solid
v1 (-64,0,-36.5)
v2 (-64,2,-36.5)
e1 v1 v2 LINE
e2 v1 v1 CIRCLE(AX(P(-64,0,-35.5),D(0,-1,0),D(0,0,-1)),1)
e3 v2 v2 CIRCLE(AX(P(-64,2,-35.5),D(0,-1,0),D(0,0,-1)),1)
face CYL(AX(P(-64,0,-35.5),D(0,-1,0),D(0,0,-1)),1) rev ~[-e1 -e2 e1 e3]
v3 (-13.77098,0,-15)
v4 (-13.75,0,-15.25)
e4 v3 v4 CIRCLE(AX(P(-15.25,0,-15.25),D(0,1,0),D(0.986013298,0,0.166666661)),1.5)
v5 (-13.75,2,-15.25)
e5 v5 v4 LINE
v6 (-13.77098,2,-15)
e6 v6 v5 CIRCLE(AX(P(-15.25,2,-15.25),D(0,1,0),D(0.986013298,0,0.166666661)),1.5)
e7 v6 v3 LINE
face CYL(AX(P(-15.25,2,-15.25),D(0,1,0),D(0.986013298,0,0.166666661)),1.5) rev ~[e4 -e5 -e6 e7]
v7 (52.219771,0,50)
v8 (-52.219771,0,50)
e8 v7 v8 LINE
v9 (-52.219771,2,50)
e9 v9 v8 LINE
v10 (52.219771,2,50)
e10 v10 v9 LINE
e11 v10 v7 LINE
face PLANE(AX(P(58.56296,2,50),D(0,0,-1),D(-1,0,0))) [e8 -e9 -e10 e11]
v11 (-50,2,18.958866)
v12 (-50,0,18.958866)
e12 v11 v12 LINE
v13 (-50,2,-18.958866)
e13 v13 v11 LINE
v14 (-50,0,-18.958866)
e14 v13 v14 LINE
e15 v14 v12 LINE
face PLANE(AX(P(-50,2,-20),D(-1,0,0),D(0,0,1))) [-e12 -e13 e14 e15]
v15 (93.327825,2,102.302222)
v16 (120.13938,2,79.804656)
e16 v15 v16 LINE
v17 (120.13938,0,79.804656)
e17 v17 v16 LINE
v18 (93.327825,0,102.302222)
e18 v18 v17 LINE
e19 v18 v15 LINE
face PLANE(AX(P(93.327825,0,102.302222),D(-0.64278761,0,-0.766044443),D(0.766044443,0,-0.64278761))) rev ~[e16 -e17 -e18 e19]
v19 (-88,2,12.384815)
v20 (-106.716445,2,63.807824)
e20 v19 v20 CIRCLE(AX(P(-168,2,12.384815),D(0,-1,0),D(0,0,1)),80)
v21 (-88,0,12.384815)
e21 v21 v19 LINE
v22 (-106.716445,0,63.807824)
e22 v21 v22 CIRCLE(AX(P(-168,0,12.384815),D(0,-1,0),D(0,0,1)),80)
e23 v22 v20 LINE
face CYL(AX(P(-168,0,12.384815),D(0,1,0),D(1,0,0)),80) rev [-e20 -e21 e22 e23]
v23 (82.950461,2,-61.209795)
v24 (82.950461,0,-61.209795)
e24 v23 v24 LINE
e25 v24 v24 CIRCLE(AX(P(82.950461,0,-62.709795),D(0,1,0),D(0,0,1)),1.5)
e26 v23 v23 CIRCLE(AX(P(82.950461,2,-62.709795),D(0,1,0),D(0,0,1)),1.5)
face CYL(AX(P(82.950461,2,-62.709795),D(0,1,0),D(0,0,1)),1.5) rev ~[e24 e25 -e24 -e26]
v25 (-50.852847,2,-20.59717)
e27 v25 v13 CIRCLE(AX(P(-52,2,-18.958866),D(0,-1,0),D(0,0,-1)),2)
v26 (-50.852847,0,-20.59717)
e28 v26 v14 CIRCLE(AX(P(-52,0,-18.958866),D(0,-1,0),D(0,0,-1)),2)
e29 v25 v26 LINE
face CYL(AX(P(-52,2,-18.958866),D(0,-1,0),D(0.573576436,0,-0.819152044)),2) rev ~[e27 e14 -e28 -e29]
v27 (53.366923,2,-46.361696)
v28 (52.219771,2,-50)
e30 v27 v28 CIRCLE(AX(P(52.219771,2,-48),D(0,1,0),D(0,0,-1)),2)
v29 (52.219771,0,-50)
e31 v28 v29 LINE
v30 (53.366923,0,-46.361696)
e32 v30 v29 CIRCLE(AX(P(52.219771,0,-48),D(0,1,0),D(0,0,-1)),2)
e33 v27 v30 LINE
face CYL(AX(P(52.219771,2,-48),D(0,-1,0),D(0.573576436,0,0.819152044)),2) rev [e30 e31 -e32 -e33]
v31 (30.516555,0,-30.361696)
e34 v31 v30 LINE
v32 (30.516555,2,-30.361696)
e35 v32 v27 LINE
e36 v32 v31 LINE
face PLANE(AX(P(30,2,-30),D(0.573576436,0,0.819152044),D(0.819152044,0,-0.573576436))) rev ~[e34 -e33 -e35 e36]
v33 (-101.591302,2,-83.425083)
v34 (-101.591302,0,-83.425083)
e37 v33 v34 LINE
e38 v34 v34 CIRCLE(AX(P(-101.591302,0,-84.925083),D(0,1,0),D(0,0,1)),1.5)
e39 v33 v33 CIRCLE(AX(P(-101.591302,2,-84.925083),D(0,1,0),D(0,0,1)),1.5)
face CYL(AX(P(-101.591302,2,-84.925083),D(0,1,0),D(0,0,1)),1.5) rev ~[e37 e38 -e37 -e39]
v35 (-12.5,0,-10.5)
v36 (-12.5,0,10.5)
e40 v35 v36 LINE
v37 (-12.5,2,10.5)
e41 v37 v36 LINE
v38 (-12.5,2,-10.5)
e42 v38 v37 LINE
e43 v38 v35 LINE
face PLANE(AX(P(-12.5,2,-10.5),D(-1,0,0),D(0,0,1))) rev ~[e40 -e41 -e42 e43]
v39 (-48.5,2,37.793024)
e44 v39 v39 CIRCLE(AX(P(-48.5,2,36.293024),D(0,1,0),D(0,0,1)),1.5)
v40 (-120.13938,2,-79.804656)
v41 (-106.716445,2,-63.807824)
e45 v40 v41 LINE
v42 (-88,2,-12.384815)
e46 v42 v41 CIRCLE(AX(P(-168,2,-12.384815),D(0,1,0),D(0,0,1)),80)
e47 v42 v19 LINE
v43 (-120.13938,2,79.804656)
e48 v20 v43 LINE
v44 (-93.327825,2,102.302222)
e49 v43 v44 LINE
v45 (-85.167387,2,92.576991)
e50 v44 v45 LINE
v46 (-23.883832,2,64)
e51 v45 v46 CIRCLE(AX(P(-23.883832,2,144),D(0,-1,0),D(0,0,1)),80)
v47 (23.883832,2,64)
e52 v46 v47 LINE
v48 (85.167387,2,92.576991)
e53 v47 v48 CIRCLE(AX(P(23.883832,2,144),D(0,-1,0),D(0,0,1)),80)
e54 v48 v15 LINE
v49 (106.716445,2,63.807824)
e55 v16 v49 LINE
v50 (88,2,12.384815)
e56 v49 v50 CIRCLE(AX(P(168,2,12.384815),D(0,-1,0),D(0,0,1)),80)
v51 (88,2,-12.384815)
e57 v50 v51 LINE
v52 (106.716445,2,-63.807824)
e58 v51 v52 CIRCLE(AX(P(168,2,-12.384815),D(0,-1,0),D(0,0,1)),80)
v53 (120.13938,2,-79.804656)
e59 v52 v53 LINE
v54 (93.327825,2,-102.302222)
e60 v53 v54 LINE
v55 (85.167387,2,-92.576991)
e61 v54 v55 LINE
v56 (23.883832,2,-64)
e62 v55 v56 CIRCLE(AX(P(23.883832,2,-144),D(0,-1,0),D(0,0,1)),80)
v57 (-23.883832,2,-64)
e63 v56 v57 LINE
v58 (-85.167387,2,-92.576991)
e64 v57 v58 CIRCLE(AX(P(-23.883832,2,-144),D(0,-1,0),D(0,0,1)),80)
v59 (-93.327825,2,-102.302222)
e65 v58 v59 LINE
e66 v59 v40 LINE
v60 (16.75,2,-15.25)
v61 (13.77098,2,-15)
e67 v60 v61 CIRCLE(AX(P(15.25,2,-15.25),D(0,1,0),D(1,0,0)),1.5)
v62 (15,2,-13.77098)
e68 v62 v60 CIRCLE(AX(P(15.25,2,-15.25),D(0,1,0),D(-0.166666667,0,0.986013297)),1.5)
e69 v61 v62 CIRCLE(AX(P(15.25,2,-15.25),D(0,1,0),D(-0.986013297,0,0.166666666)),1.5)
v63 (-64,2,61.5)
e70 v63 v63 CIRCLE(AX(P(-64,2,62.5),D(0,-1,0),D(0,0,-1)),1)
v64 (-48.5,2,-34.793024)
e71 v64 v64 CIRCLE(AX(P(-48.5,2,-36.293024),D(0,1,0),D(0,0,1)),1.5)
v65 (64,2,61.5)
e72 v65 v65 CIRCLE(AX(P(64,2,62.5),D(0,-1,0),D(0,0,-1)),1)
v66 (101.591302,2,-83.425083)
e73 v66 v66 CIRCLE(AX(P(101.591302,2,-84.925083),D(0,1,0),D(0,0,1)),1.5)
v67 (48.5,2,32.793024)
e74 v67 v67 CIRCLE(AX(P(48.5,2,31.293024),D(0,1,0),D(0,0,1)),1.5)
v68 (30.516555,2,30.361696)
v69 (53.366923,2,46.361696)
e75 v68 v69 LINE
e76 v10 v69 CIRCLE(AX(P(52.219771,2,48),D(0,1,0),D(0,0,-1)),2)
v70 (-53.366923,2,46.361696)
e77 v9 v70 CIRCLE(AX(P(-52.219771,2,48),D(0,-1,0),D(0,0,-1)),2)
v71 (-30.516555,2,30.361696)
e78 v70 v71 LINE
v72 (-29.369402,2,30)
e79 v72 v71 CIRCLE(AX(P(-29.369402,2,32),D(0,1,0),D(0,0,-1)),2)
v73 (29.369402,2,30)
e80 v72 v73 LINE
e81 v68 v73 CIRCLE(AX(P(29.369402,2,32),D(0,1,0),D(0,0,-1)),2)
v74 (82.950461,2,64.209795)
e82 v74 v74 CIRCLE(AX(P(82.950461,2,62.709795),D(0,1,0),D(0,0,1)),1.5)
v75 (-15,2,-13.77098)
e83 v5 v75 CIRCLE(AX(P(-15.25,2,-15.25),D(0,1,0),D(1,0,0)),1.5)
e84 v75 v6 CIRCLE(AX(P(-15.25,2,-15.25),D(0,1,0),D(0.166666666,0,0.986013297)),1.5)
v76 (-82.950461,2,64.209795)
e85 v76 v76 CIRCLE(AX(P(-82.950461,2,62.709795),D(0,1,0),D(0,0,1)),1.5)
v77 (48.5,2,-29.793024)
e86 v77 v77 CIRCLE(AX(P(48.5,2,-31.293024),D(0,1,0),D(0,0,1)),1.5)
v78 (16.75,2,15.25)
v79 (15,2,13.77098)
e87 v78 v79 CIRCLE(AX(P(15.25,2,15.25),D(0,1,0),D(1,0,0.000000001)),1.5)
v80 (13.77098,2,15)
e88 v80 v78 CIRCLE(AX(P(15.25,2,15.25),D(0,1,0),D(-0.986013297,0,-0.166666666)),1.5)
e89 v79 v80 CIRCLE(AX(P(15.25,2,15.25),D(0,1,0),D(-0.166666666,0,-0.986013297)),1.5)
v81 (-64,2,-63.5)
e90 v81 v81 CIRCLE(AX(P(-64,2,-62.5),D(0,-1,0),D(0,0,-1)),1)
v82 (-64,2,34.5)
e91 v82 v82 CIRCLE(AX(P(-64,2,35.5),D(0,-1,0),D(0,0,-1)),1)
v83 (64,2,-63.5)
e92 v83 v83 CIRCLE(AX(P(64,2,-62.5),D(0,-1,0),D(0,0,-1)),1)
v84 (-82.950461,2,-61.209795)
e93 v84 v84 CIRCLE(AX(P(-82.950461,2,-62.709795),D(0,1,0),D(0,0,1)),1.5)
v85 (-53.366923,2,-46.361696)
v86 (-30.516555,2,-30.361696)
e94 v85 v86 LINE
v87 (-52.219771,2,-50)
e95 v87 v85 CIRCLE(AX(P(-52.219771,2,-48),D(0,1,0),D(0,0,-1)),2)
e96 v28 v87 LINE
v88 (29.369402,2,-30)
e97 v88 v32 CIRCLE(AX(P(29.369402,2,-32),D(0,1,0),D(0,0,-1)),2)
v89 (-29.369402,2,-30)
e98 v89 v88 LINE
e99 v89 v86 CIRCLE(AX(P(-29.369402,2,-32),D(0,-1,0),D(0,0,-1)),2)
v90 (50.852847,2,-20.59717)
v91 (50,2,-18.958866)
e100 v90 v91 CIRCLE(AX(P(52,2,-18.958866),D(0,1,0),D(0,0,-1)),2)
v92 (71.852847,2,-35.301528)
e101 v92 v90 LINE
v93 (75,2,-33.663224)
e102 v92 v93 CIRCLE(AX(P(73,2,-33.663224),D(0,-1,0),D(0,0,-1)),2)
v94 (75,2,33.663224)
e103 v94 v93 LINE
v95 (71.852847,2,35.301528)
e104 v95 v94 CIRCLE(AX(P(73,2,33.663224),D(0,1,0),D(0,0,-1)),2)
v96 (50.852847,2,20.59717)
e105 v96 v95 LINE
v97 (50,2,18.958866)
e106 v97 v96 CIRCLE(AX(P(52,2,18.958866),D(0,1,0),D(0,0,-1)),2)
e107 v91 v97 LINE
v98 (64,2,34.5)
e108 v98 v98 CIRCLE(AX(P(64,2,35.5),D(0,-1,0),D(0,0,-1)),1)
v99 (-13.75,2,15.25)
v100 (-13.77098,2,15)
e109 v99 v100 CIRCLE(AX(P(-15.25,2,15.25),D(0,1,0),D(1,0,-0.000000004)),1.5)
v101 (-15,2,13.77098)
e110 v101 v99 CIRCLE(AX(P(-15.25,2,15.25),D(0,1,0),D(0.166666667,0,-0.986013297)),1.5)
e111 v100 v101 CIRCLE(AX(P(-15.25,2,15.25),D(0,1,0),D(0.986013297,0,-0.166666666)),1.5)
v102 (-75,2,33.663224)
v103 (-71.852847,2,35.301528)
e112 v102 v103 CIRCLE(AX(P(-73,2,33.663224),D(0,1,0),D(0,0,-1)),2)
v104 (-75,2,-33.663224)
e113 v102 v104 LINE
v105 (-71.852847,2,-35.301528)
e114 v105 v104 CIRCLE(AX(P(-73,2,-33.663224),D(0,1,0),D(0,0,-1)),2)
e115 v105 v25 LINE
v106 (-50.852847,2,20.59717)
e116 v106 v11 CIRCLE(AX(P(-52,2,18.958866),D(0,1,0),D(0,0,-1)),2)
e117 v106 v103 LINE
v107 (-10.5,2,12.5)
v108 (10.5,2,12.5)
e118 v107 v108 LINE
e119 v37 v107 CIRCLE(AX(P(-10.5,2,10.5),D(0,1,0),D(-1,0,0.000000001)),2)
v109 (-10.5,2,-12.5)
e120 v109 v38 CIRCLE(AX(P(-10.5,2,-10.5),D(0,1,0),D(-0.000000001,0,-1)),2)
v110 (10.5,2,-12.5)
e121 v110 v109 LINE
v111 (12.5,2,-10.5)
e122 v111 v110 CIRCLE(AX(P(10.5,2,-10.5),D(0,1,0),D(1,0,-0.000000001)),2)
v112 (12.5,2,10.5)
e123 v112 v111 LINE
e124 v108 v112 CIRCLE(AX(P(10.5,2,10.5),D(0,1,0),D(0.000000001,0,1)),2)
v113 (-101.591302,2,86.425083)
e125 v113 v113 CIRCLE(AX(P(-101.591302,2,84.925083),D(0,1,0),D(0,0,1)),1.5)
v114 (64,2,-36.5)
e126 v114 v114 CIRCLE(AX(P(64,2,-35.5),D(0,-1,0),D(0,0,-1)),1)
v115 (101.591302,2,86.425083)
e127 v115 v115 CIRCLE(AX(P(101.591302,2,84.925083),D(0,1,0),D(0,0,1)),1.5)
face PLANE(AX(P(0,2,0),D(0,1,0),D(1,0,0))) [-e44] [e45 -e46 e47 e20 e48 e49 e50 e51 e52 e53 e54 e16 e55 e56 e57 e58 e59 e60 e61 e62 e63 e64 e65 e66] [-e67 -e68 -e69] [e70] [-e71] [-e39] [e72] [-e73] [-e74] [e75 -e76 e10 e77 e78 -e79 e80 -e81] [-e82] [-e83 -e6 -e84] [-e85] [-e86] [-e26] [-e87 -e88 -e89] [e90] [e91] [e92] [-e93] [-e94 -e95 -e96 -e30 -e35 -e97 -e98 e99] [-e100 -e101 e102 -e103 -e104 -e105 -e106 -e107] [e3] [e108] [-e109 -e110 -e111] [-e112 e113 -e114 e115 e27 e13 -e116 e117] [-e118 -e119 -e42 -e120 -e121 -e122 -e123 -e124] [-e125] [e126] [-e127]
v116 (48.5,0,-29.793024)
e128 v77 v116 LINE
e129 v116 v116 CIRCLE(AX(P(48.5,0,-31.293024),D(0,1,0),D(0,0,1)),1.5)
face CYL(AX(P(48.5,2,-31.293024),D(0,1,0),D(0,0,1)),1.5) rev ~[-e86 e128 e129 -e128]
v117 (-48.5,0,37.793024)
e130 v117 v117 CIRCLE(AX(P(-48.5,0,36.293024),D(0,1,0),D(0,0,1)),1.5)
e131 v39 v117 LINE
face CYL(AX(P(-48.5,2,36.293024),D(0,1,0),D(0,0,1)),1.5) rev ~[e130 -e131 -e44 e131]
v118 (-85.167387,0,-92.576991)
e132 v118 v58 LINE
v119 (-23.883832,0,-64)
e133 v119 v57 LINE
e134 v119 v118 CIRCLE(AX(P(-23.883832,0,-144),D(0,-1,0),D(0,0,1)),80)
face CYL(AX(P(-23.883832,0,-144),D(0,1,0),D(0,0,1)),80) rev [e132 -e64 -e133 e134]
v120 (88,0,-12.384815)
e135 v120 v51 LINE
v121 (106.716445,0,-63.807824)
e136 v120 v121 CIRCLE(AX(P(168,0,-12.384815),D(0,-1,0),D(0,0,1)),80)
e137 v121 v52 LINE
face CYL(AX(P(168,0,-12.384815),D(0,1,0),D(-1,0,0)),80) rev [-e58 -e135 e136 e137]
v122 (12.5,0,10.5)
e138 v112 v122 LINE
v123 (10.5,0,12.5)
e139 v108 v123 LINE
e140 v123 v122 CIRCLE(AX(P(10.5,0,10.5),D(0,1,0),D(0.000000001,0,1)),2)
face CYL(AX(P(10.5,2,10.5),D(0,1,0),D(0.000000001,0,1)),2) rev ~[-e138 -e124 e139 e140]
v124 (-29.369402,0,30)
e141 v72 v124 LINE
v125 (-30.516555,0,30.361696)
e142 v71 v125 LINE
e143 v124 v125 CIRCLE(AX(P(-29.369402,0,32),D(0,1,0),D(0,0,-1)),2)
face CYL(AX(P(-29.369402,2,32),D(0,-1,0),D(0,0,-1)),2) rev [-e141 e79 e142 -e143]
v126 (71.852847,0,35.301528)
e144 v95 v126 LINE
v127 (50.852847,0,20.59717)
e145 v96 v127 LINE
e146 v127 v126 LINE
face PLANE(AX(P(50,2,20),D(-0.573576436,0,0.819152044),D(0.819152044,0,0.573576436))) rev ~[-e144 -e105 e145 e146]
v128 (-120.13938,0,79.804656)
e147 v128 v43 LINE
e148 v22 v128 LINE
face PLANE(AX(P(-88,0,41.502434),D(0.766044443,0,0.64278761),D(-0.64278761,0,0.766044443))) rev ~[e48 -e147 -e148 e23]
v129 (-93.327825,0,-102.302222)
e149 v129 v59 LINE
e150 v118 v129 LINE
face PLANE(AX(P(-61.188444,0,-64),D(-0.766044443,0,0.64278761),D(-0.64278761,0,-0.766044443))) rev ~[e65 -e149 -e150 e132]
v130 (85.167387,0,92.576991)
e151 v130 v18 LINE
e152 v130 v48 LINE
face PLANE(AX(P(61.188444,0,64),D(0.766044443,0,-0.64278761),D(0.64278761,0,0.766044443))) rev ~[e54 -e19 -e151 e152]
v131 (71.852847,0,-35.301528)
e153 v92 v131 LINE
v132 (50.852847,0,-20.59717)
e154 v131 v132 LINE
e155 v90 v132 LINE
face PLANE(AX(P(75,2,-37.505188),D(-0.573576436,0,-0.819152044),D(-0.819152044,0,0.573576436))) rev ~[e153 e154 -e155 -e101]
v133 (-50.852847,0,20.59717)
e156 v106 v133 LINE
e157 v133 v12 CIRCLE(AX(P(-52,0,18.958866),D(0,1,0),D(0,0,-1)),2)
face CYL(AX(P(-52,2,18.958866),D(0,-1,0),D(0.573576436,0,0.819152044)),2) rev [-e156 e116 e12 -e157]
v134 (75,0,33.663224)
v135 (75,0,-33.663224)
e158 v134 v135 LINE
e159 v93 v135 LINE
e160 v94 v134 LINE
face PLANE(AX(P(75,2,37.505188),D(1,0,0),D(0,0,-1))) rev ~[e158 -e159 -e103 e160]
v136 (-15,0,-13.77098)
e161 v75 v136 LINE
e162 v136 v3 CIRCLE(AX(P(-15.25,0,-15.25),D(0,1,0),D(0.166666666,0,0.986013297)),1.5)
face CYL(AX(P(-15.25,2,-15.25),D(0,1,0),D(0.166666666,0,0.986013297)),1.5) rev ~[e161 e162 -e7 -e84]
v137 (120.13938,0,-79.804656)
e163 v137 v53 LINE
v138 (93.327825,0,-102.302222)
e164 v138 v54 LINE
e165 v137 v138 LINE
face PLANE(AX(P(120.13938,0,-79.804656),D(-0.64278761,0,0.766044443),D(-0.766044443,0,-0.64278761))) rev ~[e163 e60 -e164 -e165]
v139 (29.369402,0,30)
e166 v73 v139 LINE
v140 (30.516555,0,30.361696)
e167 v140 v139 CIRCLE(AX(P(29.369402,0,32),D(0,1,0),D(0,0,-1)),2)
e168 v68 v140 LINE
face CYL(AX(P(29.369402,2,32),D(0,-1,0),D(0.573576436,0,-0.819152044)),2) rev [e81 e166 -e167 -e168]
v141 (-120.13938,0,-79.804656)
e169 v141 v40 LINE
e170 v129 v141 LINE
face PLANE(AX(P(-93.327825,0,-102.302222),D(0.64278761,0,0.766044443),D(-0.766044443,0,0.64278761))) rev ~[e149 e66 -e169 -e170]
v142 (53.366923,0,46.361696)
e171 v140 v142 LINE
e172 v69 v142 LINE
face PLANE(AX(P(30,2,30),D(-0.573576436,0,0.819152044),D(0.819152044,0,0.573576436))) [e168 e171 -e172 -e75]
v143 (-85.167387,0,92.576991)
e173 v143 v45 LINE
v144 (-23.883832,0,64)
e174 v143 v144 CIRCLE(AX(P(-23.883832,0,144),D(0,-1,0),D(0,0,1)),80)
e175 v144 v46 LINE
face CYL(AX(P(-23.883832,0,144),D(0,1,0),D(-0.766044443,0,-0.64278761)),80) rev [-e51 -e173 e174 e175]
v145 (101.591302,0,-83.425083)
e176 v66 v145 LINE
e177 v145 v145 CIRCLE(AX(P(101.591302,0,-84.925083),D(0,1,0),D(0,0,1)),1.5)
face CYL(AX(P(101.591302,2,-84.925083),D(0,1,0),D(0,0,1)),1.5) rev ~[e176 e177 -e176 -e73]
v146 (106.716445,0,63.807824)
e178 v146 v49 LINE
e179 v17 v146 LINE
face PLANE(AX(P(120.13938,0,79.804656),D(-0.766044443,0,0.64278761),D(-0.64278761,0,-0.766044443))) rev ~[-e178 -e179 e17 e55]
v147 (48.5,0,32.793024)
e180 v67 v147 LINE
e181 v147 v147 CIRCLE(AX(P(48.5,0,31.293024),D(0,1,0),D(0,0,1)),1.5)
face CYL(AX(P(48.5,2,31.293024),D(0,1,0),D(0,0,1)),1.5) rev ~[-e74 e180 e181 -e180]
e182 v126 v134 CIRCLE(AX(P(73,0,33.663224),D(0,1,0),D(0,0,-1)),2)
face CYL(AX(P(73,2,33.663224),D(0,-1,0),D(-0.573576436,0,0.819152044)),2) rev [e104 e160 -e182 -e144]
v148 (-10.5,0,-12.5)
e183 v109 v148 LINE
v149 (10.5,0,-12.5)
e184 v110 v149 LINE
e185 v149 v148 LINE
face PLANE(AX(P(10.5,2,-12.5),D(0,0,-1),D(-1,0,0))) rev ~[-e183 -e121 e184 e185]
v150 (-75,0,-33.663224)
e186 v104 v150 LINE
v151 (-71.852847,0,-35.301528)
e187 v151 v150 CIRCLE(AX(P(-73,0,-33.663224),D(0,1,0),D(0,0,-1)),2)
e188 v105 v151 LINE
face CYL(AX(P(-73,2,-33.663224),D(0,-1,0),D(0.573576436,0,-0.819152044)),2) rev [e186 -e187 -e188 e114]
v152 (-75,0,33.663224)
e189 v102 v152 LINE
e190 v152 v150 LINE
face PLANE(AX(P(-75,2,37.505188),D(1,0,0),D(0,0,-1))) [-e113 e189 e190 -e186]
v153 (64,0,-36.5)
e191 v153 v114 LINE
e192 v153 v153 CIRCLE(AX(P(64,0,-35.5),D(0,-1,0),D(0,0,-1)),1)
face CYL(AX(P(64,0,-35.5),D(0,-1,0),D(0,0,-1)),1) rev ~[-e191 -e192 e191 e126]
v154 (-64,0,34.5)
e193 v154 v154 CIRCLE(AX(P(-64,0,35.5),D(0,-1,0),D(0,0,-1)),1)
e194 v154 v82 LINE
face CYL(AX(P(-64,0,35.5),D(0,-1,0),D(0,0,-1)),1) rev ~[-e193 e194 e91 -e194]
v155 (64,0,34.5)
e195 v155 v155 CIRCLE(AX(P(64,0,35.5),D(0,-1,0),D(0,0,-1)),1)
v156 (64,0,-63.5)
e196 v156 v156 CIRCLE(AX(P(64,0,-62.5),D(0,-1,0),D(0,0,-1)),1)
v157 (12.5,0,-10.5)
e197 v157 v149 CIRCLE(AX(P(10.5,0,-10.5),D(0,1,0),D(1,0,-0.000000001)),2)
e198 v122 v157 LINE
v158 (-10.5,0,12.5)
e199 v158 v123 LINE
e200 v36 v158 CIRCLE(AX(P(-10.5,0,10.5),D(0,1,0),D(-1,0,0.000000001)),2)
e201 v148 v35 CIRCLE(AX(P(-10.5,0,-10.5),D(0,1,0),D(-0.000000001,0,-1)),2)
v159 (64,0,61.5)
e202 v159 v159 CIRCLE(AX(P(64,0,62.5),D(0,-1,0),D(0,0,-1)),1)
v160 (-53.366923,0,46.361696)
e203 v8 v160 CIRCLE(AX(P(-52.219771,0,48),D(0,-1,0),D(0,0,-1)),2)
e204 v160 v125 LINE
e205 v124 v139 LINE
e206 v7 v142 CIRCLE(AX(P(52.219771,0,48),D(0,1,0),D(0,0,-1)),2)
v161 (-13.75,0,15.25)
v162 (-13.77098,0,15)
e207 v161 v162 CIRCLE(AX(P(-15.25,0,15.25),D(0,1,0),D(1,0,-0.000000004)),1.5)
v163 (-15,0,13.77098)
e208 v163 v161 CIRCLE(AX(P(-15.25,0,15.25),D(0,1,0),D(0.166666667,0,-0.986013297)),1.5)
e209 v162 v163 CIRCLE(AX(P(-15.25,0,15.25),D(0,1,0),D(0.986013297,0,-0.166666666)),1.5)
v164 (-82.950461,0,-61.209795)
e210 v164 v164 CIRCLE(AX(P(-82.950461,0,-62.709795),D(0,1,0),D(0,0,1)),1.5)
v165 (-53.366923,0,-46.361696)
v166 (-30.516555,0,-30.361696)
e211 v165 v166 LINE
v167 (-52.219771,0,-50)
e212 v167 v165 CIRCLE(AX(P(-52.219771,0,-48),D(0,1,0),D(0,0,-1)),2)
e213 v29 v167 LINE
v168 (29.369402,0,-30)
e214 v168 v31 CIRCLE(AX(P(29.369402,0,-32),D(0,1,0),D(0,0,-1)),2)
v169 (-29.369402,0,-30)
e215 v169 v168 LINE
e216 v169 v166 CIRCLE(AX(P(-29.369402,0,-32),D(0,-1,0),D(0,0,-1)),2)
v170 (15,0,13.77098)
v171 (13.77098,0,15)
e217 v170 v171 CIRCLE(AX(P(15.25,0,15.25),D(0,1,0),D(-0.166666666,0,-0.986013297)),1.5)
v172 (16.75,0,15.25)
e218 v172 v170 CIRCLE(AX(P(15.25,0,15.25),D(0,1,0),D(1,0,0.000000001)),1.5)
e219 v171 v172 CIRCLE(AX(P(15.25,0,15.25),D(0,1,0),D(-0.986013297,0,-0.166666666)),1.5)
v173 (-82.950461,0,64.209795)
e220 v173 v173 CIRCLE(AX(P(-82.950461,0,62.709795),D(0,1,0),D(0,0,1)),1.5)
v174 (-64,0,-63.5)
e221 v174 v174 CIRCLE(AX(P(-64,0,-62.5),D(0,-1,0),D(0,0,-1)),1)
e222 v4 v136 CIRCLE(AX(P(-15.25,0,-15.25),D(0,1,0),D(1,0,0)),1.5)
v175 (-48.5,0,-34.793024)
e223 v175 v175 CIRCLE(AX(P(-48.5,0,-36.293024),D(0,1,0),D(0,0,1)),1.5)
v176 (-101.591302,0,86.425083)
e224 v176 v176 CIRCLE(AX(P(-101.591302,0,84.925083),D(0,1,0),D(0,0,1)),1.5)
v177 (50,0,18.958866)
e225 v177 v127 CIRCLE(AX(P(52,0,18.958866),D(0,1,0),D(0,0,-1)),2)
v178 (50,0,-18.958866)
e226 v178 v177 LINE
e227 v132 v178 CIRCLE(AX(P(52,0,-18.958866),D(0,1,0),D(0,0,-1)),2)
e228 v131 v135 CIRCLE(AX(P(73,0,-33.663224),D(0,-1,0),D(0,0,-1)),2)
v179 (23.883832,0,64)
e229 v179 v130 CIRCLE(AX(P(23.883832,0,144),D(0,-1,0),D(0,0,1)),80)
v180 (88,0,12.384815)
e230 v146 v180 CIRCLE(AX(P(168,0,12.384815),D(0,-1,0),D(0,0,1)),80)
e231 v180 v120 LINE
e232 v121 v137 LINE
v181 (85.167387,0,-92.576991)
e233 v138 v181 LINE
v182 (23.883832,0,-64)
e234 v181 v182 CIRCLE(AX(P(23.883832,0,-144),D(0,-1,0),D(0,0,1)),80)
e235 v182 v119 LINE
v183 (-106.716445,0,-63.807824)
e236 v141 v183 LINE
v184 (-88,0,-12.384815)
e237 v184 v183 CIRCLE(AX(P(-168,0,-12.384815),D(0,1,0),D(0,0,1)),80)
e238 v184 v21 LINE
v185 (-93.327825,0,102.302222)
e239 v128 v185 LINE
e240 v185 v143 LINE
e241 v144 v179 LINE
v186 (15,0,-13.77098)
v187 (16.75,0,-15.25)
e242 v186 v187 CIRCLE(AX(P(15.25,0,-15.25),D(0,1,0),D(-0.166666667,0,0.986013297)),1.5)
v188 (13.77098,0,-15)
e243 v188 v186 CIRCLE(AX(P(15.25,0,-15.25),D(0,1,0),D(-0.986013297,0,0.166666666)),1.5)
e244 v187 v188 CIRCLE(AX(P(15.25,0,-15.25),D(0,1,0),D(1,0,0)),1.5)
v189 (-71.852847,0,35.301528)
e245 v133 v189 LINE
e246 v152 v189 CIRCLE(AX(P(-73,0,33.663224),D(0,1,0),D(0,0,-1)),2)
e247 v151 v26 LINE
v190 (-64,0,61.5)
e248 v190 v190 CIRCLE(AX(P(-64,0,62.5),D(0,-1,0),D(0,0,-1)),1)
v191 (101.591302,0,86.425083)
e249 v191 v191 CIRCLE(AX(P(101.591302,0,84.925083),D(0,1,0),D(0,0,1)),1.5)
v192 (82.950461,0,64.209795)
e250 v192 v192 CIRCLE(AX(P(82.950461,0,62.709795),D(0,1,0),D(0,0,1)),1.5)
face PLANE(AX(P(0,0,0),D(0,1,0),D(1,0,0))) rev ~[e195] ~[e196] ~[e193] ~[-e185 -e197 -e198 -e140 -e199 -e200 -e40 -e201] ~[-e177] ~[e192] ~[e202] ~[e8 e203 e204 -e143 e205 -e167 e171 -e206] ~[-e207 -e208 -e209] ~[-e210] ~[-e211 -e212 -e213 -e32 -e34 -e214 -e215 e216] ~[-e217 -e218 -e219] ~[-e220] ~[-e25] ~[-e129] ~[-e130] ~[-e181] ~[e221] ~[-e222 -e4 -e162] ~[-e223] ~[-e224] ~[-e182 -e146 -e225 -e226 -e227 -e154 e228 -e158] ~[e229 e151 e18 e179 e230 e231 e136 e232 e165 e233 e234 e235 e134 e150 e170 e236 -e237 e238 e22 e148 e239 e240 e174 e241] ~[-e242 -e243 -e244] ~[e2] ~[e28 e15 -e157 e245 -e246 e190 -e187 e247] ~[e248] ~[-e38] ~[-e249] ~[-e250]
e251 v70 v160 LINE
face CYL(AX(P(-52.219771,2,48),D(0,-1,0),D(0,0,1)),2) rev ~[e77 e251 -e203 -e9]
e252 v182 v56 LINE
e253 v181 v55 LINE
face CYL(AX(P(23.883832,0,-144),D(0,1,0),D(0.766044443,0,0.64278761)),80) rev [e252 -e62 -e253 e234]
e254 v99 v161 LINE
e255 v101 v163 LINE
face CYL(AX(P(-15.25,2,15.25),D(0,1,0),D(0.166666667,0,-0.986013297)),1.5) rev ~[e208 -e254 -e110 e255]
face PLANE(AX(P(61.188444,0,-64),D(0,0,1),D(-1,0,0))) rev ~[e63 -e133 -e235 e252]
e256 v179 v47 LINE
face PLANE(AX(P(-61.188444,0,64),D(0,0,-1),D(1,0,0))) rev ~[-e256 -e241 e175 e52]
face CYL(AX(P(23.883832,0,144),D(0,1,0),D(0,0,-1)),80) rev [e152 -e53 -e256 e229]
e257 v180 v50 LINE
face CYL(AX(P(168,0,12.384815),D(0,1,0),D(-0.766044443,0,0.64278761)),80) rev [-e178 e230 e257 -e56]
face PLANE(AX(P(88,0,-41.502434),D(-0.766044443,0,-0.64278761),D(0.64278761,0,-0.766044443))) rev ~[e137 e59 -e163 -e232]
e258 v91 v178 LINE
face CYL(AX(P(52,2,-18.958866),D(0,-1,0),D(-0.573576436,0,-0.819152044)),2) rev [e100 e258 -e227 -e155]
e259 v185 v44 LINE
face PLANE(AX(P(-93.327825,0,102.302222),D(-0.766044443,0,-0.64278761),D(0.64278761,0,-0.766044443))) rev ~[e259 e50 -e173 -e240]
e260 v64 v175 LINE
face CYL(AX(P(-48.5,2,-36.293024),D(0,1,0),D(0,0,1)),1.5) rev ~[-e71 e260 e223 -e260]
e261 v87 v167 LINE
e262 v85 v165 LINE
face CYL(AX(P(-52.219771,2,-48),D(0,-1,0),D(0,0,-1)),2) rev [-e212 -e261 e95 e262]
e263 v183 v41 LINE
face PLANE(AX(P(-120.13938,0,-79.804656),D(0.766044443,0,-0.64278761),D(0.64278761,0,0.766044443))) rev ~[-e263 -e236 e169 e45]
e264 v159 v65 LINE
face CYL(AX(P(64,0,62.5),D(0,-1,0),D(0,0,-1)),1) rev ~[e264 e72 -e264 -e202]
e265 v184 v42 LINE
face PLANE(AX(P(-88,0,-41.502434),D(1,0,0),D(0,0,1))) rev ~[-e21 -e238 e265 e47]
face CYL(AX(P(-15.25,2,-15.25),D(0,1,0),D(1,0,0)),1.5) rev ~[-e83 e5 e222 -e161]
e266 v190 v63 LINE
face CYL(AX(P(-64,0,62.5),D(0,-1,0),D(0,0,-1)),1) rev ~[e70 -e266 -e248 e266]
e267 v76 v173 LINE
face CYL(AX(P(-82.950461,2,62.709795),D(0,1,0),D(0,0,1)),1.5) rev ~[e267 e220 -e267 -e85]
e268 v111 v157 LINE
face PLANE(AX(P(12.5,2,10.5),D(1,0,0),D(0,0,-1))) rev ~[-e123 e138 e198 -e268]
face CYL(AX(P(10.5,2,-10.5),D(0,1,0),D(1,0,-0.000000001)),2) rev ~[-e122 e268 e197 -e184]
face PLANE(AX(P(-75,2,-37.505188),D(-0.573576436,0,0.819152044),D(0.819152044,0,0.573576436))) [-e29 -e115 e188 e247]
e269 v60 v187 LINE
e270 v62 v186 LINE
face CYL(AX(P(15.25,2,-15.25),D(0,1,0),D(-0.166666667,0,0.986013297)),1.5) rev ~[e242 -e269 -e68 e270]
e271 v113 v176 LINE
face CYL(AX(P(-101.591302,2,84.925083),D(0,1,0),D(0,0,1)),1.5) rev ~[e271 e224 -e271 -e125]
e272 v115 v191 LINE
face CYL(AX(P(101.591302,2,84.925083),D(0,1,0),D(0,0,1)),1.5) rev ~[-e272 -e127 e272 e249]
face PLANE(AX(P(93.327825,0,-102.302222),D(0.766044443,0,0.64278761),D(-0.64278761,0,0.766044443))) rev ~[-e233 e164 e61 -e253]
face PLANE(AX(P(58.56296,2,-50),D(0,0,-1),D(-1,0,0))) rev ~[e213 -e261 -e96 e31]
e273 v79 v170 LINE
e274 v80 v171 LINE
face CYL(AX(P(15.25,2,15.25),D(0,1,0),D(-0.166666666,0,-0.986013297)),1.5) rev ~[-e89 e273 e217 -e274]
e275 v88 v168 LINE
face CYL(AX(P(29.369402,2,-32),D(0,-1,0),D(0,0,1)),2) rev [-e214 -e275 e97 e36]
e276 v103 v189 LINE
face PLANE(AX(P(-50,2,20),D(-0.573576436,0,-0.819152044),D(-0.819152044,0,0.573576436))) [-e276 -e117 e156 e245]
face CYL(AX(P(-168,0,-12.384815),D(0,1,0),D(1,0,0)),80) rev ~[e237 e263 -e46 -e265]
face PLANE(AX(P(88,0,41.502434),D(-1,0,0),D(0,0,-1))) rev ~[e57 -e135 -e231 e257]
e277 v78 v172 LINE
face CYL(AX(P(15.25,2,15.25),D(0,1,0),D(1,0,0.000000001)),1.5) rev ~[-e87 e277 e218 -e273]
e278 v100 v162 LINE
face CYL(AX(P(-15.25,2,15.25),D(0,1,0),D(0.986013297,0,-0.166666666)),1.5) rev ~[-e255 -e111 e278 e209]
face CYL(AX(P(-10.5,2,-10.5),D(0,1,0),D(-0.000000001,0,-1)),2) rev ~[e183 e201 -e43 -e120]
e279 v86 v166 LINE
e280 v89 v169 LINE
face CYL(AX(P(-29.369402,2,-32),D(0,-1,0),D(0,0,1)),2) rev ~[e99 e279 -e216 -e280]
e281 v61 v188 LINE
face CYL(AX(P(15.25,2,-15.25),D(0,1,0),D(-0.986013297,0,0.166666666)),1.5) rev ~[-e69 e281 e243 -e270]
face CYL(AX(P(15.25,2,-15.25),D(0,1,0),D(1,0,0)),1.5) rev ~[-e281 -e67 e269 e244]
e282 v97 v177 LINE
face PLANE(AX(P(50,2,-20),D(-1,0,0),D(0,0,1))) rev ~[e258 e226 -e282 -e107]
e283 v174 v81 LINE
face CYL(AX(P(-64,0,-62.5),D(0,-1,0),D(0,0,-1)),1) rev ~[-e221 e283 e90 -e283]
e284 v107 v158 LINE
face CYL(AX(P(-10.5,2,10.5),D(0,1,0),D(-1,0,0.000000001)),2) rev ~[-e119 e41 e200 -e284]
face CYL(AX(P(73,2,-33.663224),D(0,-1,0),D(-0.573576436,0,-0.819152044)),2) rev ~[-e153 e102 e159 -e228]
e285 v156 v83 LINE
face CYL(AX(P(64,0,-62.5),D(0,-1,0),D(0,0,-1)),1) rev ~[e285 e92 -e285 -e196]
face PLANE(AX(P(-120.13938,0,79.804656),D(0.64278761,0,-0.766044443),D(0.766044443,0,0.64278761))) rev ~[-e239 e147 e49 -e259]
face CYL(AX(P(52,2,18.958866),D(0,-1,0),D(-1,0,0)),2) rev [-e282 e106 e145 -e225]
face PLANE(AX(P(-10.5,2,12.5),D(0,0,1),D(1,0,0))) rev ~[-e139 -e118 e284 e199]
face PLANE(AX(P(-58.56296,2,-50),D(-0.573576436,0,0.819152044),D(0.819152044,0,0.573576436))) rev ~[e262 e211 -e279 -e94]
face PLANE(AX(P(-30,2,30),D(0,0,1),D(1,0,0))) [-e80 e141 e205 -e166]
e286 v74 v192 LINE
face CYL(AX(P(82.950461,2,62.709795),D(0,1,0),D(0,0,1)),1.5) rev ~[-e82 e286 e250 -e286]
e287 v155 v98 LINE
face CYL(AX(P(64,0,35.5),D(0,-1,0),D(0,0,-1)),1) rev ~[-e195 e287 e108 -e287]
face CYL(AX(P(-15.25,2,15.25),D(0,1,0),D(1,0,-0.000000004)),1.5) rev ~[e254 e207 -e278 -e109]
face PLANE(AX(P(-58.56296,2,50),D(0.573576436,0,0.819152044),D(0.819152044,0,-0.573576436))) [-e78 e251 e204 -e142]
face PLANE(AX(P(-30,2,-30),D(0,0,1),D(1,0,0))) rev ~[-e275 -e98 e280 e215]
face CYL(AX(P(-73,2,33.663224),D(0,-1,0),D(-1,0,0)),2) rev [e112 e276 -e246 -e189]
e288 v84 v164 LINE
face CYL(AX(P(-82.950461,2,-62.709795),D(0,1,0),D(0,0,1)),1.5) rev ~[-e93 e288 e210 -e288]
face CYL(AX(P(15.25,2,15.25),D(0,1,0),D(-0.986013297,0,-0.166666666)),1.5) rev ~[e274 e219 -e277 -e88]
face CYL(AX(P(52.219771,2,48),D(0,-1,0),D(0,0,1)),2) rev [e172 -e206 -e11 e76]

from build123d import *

# Parameters (mm, degrees)
BOSS_EXTRUDE1_DEPTH = 2
FILLET1_R           = 80
SKETCH4_R           = 1.5
CUT_EXTRUDE1_DEPTH  = 10
CUT_EXTRUDE2_DEPTH  = 10
FILLET2_R           = 2
CUT_EXTRUDE3_DEPTH  = 10
CUT_EXTRUDE4_DEPTH  = 10
SKETCH8_R           = 1
CUT_EXTRUDE5_DEPTH  = 10
SKETCH9_R           = 1.5
CUT_EXTRUDE6_DEPTH  = 10


with BuildPart() as part:
    # Sketch1 → Boss-Extrude1 (new body)
    with BuildSketch(Plane(origin=(0, 0, 0), x_dir=(1, 0, 0), z_dir=(0, 1, 0))):
        Polygon((-88, 41.502433661), (-88, -41.502433661), (-120.139380484, -79.804655817), (-93.327824975, -102.302222156), (-61.188444491, -64), (61.188444491, -64), (93.327824975, -102.302222156), (120.139380484, -79.804655817), (88, -41.502433661), (88, 41.502433661), (120.139380484, 79.804655817), (93.327824975, 102.302222156), (61.188444491, 64), (-61.188444491, 64), (-93.327824975, 102.302222156), (-120.139380484, 79.804655817), align=None)
    extrude(amount=BOSS_EXTRUDE1_DEPTH)

    # Fillet1
    fillet1_edges = [part.edges().sort_by_distance(p)[0] for p in [
        (61.188444491, 1, -64),
        (88, 1, -41.502433661),
        (88, 1, 41.502433661),
        (61.188444491, 1, 64),
        (-61.188444491, 1, 64),
        (-88, 1, 41.502433661),
        (-88, 1, -41.502433661),
        (-61.188444491, 1, -64),
    ]]
    fillet(fillet1_edges, radius=FILLET1_R)

    # Sketch4 → Cut-Extrude1 (cut)
    with BuildSketch(Plane(origin=(0, 2, 0), x_dir=(1, 0, 0), z_dir=(0, 1, 0))):
        with Locations(Location((-101.591301852, -84.925083441, 0), (0, 0, 270))):
            Circle(SKETCH4_R)
        with Locations(Location((-82.950461171, -62.709794591, 0), (0, 0, 270))):
            Circle(SKETCH4_R)
        with Locations(Location((101.591301852, -84.925083441, 0), (0, 0, 270))):
            Circle(SKETCH4_R)
        with Locations(Location((82.950461171, -62.709794591, 0), (0, 0, 270))):
            Circle(SKETCH4_R)
        with Locations(Location((101.591301852, 84.925083441, 0), (0, 0, 270))):
            Circle(SKETCH4_R)
        with Locations(Location((82.950461171, 62.709794591, 0), (0, 0, 270))):
            Circle(SKETCH4_R)
        with Locations(Location((-101.591301852, 84.925083441, 0), (0, 0, 270))):
            Circle(SKETCH4_R)
        with Locations(Location((-82.950461171, 62.709794591, 0), (0, 0, 270))):
            Circle(SKETCH4_R)
    extrude(amount=-CUT_EXTRUDE1_DEPTH, mode=Mode.SUBTRACT)

    # Sketch5 → Cut-Extrude2 (cut)
    with BuildSketch(Plane(origin=(0, 2, 0), x_dir=(1, 0, 0), z_dir=(0, 1, 0))):
        Polygon((-30, 30), (30, 30), (58.562960135, 50), (-58.562960135, 50), align=None)
        Polygon((-58.562960135, -50), (-30, -30), (30, -30), (58.562960135, -50), align=None)
        Polygon((-50, 20), (-50, -20), (-75, -37.505188455), (-75, 37.505188455), align=None)
        Polygon((75, 37.505188455), (50, 20), (50, -20), (75, -37.505188455), align=None)
    extrude(amount=-CUT_EXTRUDE2_DEPTH, mode=Mode.SUBTRACT)

    # Fillet2
    fillet2_edges = [part.edges().sort_by_distance(p)[0] for p in [
        (50, 1, -20),
        (75, 1, -37.505188455),
        (75, 1, 37.505188455),
        (50, 1, 20),
        (-30, 1, 30),
        (30, 1, 30),
        (58.562960135, 1, 50),
        (-58.562960135, 1, 50),
        (-58.562960135, 1, -50),
        (58.562960135, 1, -50),
        (30, 1, -30),
        (-30, 1, -30),
        (-75, 1, -37.505188455),
        (-50, 1, -20),
        (-50, 1, 20),
        (-75, 1, 37.505188455),
    ]]
    fillet(fillet2_edges, radius=FILLET2_R)

    # Sketch5<3> → Cut-Extrude3 (cut)
    with BuildSketch(Plane(origin=(0, 2, 0), x_dir=(1, 0, 0), z_dir=(0, 1, 0))):
        with BuildLine():
            Line((-15, -13.770980054), (-15, -15))
            Line((-15, -15), (-13.770980054, -15))
            ThreePointArc((-13.770980054, -15), (-14.189339828, -14.189339828), (-15, -13.770980054))
        make_face()
        with BuildLine():
            Line((-13.770980054, -15), (-15, -15))
            Line((-15, -15), (-15, -13.770980054))
            ThreePointArc((-15, -13.770980054), (-16.395643924, -16.218245837), (-13.75, -15.25))
            ThreePointArc((-13.75, -15.25), (-13.755254216, -15.12456061), (-13.770980054, -15))
        make_face()
        with BuildLine():
            ThreePointArc((15, -13.770980054), (14.189339828, -14.189339828), (13.770980054, -15))
            Line((13.770980054, -15), (15, -15))
            Line((15, -15), (15, -13.770980054))
        make_face()
        with BuildLine():
            Line((15, -15), (13.770980054, -15))
            ThreePointArc((13.770980054, -15), (15.12456061, -16.744745784), (16.75, -15.25))
            ThreePointArc((16.75, -15.25), (16.218245837, -14.104356076), (15, -13.770980054))
            Line((15, -13.770980054), (15, -15))
        make_face()
        with BuildLine():
            ThreePointArc((13.770980054, 15), (14.189339828, 14.189339828), (15, 13.770980054))
            Line((15, 13.770980054), (15, 15))
            Line((15, 15), (13.770980054, 15))
        make_face()
        with BuildLine():
            Line((15, 15), (15, 13.770980054))
            ThreePointArc((15, 13.770980054), (16.218245837, 14.104356076), (16.75, 15.25))
            ThreePointArc((16.75, 15.25), (15.12456061, 16.744745784), (13.770980054, 15))
            Line((13.770980054, 15), (15, 15))
        make_face()
        with BuildLine():
            ThreePointArc((-13.75, 15.25), (-16.395643924, 16.218245837), (-15, 13.770980054))
            Line((-15, 13.770980054), (-15, 15))
            Line((-15, 15), (-13.770980054, 15))
            ThreePointArc((-13.770980054, 15), (-13.755254216, 15.12456061), (-13.75, 15.25))
        make_face()
        with BuildLine():
            Line((-15, 15), (-15, 13.770980054))
            ThreePointArc((-15, 13.770980054), (-14.189339828, 14.189339828), (-13.770980054, 15))
            Line((-13.770980054, 15), (-15, 15))
        make_face()
    extrude(amount=-CUT_EXTRUDE3_DEPTH, mode=Mode.SUBTRACT)

    # Sketch6 → Cut-Extrude4 (cut)
    with BuildSketch(Plane(origin=(0, 2, 0), x_dir=(1, 0, 0), z_dir=(0, 1, 0))):
        with BuildLine():
            Line((-10.5, -12.5), (10.5, -12.5))
            ThreePointArc((10.5, -12.5), (11.914213562, -11.914213562), (12.5, -10.5))
            Line((12.5, -10.5), (12.5, 10.5))
            ThreePointArc((12.5, 10.5), (11.914213562, 11.914213562), (10.5, 12.5))
            Line((10.5, 12.5), (-10.5, 12.5))
            ThreePointArc((-10.5, 12.5), (-11.914213562, 11.914213562), (-12.5, 10.5))
            Line((-12.5, 10.5), (-12.5, -10.5))
            ThreePointArc((-12.5, -10.5), (-11.914213562, -11.914213562), (-10.5, -12.5))
        make_face()
    extrude(amount=-CUT_EXTRUDE4_DEPTH, mode=Mode.SUBTRACT)

    # Sketch8 → Cut-Extrude5 (cut)
    with BuildSketch(Plane.XZ):
        with Locations(Location((64, 35.5, 0), (0, 0, 270))):
            Circle(SKETCH8_R)
        with Locations(Location((64, 62.5, 0), (0, 0, 270))):
            Circle(SKETCH8_R)
        with Locations(Location((-64, 62.5, 0), (0, 0, 270))):
            Circle(SKETCH8_R)
        with Locations(Location((-64, 35.5, 0), (0, 0, 270))):
            Circle(SKETCH8_R)
        with Locations(Location((-64, -62.5, 0), (0, 0, 270))):
            Circle(SKETCH8_R)
        with Locations(Location((-64, -35.5, 0), (0, 0, 270))):
            Circle(SKETCH8_R)
        with Locations(Location((64, -35.5, 0), (0, 0, 270))):
            Circle(SKETCH8_R)
        with Locations(Location((64, -62.5, 0), (0, 0, 270))):
            Circle(SKETCH8_R)
    extrude(amount=-CUT_EXTRUDE5_DEPTH, mode=Mode.SUBTRACT)

    # Sketch9 → Cut-Extrude6 (cut)
    with BuildSketch(Plane(origin=(0, 2, 0), x_dir=(1, 0, 0), z_dir=(0, 1, 0))):
        with Locations(Location((48.5, 31.293024341, 0), (0, 0, 270))):
            Circle(SKETCH9_R)
        with Locations(Location((48.5, -31.293024341, 0), (0, 0, 270))):
            Circle(SKETCH9_R)
        with Locations(Location((-48.5, -36.293024341, 0), (0, 0, 270))):
            Circle(SKETCH9_R)
        with Locations(Location((-48.5, 36.293024341, 0), (0, 0, 270))):
            Circle(SKETCH9_R)
    extrude(amount=-CUT_EXTRUDE6_DEPTH, mode=Mode.SUBTRACT)


solid = part.part
